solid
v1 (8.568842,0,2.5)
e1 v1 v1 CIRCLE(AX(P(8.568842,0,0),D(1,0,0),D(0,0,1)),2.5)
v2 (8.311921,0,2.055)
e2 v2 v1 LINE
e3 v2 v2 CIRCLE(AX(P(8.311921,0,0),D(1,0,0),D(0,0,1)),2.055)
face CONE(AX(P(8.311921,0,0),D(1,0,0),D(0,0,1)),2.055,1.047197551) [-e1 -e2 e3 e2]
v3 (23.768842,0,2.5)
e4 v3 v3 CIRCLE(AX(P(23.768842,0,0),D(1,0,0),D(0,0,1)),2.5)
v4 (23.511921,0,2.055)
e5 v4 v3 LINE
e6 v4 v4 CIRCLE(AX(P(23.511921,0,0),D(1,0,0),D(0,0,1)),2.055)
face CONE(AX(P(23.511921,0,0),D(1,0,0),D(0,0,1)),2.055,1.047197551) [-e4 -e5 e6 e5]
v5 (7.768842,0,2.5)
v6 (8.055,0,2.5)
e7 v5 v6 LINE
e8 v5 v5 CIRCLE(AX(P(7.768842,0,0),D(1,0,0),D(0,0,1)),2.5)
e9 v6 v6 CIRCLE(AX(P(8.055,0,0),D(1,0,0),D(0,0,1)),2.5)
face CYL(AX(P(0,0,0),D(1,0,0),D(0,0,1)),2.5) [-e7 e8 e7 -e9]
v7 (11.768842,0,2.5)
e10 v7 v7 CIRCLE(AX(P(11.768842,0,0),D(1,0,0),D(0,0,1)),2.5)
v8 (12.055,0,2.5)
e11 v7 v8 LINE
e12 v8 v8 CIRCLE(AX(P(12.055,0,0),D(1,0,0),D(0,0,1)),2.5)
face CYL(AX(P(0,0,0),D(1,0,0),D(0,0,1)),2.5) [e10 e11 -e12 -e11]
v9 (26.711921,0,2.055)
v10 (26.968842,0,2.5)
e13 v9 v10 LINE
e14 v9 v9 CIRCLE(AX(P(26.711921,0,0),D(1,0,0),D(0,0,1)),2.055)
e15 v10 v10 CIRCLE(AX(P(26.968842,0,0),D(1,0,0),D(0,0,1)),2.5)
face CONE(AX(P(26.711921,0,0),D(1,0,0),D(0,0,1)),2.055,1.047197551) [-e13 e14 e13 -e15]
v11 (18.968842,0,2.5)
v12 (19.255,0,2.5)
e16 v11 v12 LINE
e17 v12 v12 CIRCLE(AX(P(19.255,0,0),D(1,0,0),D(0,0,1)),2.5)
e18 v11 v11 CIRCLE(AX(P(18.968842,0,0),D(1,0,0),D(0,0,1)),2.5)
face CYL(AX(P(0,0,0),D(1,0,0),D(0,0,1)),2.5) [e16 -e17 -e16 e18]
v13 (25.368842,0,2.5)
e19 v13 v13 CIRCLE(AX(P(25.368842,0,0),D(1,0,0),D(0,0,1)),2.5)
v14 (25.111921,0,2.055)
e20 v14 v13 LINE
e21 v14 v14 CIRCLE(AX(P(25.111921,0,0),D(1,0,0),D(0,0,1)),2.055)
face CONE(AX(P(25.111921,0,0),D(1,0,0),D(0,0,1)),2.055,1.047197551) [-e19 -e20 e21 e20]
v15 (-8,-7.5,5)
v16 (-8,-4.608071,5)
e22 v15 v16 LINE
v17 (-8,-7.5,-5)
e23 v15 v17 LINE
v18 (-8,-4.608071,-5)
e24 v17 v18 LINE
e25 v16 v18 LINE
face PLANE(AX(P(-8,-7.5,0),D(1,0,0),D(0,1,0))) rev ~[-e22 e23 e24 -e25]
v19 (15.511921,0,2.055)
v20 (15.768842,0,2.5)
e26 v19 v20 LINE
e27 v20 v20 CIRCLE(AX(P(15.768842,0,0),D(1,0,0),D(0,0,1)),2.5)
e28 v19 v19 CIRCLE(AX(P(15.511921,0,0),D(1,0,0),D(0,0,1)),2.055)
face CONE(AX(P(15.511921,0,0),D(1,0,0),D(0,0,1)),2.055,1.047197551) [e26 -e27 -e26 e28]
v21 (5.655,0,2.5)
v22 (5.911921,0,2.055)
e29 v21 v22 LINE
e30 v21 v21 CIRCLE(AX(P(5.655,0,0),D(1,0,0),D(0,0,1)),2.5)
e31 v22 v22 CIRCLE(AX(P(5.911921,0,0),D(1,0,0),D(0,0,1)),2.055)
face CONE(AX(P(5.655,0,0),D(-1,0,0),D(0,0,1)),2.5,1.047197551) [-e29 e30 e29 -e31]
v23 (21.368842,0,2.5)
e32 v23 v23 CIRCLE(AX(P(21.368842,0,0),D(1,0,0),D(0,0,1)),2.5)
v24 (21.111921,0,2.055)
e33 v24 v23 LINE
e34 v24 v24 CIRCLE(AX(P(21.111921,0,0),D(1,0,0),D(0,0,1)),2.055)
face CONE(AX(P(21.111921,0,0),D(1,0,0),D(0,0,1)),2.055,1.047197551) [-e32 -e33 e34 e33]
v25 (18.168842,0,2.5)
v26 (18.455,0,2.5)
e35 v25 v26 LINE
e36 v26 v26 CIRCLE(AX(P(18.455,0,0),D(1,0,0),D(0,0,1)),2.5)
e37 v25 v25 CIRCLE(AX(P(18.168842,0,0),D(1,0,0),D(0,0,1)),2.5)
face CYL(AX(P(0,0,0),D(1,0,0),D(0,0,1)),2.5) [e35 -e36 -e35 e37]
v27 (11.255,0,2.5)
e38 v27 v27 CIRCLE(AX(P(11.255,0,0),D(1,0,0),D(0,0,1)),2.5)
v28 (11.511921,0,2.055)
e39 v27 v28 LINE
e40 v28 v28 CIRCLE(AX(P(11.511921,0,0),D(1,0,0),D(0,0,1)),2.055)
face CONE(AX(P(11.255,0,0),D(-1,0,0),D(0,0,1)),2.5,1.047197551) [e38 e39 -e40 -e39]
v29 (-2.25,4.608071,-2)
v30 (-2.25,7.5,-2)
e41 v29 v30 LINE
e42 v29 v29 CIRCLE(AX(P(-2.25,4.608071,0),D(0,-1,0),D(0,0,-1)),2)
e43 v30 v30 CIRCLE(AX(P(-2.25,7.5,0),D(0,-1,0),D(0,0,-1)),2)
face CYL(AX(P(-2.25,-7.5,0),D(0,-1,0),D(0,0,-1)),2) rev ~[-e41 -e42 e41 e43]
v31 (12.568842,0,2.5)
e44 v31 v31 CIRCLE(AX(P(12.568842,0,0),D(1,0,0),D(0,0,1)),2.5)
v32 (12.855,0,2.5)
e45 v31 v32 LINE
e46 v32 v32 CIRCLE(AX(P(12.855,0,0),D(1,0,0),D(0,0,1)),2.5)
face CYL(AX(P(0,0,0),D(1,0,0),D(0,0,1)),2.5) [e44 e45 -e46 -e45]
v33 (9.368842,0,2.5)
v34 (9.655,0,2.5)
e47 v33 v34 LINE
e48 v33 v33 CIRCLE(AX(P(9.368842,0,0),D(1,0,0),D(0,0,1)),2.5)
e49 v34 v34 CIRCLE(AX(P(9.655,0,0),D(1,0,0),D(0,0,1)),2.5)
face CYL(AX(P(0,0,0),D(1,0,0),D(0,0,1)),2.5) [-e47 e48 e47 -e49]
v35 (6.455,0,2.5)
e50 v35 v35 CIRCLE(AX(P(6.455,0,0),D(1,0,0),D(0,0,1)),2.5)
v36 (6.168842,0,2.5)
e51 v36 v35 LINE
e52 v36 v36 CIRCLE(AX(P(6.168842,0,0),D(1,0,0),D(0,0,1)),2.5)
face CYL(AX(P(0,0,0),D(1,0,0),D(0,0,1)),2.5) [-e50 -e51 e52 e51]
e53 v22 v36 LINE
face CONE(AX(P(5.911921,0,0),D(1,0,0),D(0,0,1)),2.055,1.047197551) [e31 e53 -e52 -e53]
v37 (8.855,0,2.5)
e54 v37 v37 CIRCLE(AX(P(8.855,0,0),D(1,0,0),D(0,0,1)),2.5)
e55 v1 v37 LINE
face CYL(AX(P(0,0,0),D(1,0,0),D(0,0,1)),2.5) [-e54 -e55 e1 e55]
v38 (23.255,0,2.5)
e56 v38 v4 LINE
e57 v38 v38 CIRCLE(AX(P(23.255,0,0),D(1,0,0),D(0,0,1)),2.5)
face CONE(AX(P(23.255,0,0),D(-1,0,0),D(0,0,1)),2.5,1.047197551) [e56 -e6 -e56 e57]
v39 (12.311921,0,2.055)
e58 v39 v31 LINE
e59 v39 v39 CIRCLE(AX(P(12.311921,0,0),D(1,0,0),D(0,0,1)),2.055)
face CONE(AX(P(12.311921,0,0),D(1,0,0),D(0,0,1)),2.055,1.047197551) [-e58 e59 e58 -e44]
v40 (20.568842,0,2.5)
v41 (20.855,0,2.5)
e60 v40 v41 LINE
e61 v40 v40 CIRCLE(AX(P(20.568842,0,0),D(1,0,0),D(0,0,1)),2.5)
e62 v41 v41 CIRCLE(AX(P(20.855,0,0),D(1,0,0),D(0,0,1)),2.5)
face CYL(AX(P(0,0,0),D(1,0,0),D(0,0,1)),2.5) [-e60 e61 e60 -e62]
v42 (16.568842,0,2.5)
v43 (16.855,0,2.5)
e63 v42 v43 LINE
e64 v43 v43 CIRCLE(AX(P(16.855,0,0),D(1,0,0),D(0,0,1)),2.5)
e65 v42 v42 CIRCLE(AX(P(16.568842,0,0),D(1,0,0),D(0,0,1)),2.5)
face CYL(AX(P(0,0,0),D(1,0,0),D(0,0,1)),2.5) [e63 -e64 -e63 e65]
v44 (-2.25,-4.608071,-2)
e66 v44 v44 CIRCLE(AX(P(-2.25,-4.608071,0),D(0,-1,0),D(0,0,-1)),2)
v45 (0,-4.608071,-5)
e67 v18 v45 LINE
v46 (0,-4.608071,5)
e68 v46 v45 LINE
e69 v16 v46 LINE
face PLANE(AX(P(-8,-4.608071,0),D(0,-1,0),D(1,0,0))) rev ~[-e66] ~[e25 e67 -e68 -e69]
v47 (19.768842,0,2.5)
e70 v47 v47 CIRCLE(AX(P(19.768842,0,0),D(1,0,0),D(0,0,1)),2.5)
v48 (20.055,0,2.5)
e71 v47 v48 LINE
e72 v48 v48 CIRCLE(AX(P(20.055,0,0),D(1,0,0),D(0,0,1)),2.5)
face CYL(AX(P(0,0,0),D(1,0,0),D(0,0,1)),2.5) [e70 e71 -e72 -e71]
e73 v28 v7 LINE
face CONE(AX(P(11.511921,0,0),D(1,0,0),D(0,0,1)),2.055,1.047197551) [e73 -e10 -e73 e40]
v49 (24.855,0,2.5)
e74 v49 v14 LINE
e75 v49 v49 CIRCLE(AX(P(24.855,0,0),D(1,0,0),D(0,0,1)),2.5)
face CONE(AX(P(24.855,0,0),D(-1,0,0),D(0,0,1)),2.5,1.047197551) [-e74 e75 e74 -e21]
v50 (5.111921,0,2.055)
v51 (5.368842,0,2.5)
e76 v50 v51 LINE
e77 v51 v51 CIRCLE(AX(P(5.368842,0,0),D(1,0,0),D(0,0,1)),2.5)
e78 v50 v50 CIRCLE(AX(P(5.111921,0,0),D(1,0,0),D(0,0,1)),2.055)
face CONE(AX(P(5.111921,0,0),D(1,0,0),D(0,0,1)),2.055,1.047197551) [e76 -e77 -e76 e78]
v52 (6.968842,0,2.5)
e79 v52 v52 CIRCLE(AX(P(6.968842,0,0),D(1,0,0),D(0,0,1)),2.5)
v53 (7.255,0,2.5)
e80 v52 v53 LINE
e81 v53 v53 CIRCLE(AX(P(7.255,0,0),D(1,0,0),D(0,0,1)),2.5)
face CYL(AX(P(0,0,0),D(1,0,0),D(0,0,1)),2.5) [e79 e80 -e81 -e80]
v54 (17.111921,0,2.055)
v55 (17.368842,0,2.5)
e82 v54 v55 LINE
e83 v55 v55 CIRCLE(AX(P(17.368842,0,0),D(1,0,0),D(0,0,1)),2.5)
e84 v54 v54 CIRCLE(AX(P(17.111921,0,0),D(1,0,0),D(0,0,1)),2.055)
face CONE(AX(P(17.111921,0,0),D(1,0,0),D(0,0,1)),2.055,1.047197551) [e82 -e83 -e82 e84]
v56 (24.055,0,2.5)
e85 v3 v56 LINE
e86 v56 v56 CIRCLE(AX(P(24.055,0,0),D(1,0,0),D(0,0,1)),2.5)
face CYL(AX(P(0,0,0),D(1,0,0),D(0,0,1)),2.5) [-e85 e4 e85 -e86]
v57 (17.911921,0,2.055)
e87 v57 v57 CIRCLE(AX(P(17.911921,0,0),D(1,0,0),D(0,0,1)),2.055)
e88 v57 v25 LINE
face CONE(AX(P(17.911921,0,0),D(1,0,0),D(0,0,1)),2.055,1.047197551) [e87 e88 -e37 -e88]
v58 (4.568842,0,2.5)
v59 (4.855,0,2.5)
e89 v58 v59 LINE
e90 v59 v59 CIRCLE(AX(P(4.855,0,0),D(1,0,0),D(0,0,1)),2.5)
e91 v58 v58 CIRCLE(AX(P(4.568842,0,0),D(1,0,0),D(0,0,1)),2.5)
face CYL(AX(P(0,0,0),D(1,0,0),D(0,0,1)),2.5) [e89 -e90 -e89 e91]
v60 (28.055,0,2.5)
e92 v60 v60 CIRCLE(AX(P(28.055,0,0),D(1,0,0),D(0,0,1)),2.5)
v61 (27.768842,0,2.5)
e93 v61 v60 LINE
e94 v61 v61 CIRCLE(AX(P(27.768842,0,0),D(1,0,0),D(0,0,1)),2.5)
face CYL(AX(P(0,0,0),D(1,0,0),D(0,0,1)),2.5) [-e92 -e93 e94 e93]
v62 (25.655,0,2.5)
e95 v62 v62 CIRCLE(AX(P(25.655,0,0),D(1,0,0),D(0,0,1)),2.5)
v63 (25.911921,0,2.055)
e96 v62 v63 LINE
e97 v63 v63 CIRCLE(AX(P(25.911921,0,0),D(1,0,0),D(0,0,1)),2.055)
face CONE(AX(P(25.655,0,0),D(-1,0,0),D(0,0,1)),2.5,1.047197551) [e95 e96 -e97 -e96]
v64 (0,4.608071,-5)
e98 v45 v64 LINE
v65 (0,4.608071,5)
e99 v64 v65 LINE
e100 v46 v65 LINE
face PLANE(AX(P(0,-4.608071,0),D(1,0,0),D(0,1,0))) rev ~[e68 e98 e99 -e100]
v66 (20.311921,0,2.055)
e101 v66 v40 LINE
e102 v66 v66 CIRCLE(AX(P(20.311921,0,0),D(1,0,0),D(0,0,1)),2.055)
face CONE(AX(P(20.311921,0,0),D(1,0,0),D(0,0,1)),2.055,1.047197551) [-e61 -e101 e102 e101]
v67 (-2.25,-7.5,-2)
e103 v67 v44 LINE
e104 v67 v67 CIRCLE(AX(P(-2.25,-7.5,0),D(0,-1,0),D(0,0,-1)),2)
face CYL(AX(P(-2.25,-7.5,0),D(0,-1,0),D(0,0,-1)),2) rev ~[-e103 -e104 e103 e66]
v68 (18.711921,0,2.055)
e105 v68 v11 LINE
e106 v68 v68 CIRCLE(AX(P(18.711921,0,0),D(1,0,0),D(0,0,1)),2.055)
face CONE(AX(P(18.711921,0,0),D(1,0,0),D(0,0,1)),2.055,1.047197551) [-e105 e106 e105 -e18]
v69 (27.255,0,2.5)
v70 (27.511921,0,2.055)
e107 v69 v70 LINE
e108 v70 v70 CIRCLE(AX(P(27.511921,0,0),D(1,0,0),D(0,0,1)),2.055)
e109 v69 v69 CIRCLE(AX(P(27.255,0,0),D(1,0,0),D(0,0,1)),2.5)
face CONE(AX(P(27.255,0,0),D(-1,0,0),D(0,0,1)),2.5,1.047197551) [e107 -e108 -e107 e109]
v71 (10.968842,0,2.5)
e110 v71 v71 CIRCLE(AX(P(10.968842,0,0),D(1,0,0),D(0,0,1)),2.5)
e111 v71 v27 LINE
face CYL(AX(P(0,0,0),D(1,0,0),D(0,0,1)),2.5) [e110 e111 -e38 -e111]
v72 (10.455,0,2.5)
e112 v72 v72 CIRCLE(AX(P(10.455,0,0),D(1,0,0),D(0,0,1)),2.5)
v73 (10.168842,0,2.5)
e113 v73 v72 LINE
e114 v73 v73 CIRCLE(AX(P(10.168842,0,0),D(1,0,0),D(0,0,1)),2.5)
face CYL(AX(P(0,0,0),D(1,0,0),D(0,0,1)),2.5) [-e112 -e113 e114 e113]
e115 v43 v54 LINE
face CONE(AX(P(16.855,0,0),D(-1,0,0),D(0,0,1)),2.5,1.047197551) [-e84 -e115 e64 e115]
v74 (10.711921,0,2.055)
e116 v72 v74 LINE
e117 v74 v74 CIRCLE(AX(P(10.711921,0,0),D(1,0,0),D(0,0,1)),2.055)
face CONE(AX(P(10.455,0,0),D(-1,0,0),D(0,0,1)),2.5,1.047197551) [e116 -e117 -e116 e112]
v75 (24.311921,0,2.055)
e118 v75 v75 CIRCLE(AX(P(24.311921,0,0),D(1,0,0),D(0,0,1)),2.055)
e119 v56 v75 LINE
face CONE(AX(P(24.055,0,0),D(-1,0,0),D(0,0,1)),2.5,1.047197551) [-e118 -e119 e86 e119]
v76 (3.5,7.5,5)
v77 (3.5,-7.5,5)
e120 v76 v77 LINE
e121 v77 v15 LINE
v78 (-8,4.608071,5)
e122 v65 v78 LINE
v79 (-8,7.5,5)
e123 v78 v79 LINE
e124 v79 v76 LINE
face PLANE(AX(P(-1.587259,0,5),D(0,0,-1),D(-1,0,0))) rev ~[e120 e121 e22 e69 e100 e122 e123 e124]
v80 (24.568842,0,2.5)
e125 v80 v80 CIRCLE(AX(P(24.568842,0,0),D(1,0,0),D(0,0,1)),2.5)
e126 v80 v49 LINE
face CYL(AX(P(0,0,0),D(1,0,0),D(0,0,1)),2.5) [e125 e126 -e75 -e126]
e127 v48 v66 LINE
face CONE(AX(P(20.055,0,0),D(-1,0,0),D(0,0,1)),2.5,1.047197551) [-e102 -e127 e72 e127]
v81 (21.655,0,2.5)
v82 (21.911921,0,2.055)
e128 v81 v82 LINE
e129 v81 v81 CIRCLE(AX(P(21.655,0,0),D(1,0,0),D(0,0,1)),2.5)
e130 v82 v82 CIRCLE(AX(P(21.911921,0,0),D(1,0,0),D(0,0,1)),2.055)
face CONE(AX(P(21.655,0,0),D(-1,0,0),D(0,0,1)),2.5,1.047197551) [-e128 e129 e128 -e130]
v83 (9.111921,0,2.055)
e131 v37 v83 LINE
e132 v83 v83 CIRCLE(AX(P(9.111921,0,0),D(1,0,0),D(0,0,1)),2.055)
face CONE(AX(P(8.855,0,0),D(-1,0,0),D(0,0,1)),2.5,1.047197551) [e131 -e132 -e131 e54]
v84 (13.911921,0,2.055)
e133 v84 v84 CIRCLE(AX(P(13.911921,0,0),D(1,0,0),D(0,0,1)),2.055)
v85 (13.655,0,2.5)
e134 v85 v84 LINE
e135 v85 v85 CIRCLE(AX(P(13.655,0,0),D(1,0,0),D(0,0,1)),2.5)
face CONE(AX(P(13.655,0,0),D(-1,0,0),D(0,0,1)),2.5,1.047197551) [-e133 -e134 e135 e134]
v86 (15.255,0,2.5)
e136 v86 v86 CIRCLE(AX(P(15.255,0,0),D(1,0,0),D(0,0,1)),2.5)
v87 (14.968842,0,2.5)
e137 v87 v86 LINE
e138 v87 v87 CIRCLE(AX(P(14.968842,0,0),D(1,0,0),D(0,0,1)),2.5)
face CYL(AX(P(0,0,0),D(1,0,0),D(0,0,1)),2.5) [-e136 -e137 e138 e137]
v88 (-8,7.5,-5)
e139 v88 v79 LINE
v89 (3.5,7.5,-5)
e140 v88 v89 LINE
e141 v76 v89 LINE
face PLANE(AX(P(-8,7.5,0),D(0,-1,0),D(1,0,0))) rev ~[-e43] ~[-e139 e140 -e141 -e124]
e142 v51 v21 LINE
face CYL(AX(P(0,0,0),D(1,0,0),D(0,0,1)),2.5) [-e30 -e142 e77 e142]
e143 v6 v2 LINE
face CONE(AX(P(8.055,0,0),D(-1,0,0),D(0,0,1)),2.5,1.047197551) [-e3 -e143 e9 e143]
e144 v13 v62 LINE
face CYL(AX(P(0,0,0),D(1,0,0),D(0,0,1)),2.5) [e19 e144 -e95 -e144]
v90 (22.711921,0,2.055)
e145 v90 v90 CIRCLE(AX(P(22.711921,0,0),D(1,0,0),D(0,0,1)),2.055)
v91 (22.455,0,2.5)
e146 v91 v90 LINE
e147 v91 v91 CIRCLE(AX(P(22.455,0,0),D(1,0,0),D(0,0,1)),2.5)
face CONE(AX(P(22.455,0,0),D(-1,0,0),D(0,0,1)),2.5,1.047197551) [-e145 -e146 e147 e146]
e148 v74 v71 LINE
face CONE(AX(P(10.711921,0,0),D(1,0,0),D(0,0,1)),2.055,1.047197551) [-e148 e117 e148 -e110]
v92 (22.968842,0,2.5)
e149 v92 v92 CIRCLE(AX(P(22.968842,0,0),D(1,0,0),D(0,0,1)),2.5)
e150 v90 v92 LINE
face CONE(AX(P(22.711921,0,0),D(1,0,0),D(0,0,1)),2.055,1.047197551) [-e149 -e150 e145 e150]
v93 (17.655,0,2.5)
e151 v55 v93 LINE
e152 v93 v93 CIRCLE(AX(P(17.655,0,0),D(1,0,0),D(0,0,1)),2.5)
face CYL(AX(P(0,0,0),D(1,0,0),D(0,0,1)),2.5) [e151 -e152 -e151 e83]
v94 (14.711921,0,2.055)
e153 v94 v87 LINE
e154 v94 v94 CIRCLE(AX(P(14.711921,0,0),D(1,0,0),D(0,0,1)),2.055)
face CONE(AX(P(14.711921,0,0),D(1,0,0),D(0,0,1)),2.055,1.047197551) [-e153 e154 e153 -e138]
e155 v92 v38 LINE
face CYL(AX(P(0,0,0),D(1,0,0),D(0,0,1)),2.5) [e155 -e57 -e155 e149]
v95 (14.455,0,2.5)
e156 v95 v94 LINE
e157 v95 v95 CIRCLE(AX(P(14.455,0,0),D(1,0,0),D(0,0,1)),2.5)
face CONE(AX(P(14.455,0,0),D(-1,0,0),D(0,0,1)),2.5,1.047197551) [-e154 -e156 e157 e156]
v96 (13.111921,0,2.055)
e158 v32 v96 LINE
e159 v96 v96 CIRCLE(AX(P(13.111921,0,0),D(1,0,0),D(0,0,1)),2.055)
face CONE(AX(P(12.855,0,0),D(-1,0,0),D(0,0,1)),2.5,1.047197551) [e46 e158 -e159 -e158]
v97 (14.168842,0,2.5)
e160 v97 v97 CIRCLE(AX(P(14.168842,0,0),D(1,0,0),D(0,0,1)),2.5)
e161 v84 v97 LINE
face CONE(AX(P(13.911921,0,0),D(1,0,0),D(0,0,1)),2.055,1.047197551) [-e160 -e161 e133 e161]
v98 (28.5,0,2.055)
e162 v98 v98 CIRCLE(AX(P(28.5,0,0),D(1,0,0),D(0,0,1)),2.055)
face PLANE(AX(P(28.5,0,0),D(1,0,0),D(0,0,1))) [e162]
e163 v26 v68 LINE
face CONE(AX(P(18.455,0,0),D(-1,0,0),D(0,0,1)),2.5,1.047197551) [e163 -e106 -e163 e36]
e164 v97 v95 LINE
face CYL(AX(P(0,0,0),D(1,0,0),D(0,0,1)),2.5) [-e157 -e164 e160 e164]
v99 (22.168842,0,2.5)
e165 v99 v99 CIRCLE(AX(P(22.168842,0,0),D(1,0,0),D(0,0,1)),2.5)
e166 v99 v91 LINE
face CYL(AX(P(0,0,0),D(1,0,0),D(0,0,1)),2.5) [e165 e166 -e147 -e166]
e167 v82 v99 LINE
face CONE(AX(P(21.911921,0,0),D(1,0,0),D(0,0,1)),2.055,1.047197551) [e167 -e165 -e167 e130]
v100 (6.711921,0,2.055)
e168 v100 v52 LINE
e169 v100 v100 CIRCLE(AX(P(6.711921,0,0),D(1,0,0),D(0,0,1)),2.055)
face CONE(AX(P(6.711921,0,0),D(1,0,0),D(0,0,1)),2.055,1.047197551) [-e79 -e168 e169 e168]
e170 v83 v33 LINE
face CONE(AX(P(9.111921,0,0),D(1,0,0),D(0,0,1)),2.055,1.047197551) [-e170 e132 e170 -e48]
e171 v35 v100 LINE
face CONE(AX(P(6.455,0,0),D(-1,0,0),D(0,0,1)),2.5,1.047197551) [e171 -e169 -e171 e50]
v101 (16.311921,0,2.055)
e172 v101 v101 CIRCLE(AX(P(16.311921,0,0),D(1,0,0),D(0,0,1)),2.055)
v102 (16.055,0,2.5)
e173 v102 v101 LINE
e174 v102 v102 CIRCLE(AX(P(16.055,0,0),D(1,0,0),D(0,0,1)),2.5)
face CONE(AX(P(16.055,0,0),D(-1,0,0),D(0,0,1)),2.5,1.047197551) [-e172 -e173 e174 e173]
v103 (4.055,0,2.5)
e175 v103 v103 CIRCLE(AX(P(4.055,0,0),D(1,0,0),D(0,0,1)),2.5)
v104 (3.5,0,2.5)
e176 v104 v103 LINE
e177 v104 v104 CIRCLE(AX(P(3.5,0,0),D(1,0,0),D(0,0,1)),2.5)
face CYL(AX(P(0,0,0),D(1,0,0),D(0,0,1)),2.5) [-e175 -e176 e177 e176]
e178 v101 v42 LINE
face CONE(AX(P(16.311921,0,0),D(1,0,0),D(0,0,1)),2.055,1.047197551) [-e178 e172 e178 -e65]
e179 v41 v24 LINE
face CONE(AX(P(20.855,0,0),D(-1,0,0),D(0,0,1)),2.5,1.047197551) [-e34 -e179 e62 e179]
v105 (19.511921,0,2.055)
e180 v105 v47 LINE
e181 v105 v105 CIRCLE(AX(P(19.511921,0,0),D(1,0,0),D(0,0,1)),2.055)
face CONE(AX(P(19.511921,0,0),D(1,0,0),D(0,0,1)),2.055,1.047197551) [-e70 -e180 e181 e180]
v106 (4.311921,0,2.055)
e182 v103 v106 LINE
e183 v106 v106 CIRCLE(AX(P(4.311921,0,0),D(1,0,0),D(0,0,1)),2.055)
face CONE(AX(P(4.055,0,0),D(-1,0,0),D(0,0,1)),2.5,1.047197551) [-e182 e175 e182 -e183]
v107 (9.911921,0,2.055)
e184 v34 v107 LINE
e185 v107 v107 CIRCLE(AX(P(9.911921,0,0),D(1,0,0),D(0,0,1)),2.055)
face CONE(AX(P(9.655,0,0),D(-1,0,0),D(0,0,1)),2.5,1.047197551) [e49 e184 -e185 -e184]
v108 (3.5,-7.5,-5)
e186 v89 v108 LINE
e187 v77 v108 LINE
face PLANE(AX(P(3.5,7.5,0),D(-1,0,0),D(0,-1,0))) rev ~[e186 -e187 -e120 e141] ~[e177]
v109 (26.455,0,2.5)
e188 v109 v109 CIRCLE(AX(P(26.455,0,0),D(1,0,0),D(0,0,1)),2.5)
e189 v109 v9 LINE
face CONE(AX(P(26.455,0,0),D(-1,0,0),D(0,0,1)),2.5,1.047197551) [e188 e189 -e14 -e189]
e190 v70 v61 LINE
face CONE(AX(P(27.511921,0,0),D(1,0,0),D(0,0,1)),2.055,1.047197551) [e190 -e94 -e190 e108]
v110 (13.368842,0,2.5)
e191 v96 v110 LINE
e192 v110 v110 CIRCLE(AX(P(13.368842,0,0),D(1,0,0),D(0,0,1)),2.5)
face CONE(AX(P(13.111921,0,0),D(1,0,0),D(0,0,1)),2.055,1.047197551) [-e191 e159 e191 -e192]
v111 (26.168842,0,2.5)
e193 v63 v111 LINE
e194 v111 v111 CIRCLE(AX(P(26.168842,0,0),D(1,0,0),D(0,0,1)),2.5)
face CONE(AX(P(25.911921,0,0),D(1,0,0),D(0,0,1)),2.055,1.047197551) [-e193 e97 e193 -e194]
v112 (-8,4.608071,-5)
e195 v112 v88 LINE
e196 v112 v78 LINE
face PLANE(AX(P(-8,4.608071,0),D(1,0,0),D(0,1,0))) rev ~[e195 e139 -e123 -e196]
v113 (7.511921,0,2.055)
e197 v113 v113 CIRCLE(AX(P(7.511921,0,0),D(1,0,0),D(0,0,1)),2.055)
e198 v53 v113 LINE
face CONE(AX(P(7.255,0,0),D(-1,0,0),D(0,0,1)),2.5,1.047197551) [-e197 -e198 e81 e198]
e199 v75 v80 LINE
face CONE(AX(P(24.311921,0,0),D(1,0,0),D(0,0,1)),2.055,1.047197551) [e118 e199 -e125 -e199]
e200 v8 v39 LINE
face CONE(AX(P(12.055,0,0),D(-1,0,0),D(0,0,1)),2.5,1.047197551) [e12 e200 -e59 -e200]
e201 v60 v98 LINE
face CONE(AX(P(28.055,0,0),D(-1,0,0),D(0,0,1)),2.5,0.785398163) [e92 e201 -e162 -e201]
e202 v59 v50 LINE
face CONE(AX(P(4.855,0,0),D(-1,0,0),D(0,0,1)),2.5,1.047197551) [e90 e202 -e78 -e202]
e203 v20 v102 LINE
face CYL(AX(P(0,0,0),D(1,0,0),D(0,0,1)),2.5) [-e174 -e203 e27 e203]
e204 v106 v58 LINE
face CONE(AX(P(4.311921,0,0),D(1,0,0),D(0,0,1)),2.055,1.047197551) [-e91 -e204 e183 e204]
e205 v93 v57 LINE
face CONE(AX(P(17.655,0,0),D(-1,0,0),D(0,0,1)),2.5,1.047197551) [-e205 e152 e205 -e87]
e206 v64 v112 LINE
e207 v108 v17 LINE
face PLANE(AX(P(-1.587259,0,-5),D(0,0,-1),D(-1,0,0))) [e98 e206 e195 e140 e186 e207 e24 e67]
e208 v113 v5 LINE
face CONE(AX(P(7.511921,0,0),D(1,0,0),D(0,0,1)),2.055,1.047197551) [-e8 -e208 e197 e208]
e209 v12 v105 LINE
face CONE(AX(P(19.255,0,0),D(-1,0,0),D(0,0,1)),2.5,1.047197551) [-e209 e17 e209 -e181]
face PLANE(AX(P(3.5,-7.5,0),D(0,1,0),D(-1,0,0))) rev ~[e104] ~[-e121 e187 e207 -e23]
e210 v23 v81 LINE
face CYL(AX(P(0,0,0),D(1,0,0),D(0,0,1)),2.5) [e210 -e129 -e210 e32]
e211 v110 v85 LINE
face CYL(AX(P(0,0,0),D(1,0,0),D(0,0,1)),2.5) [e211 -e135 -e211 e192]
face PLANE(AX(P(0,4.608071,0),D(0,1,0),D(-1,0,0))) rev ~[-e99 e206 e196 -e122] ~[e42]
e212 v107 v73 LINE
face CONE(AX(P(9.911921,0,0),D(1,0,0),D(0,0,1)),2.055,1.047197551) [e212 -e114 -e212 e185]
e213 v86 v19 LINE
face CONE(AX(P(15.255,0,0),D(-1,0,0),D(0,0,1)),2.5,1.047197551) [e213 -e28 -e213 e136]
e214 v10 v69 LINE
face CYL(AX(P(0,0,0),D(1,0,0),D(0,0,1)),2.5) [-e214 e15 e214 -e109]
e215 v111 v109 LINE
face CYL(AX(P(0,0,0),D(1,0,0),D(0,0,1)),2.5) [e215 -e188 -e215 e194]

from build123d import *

# Parameters (mm, degrees)
BASEHEAD_DEPTH      = 3.5
THDSCHPAT_COUNT     = 30
THDSCHPAT_PITCH     = 0.8
BOSS_EXTRUDE1_DEPTH = 5
SKETCH3_R           = 2
CUT_EXTRUDE1_DEPTH  = 17


with BuildPart() as part:
    # BaseHeadSke → BaseHead (new body)
    with BuildSketch(Plane(origin=(0, 0, 0), x_dir=(0, 0, -1), z_dir=(1, 0, 0))):
        Polygon((0, 4.618802154), (-4, 2.309401077), (-4, -2.309401077), (0, -4.618802154), (4, -2.309401077), (4, 2.309401077), align=None)
    extrude(amount=BASEHEAD_DEPTH)

    # HeadChamferSke → HeadChamfer (revolve, cut)
    with BuildSketch(Plane.XY):
        Polygon((0, 4.618802154), (0, 4), (0.35726559, 4.618802154), align=None)
    revolve(axis=Axis((0, 0, 0), (1, 0, 0)), mode=Mode.SUBTRACT)

    # BodySke → BaseBody (revolve)
    with BuildSketch(Plane.XY, mode=Mode.PRIVATE) as basebody_sk:
        Polygon((0, 0), (0, 2.5), (28.055, 2.5), (28.5, 2.055), (28.5, 0), align=None)
    revolve(basebody_sk.sketch.rotate(Axis((0, 0, 0), (1, 0, 0)), 90), axis=Axis((0, 0, 0), (1, 0, 0)))

    # ThdSchSke → ThreadSchematic (revolve, cut)
    with BuildSketch(Plane.XY, mode=Mode.PRIVATE) as threadschematic_sk:
        Polygon((27.255, 3.01384174), (27.255, 2.5), (27.51192087, 2.055), (27.76884174, 2.5), (27.76884174, 3.01384174), align=None)
    threadschematic = revolve(threadschematic_sk.sketch.rotate(Axis((0, 0, 0), (1, 0, 0)), 90), axis=Axis((0, 0, 0), (1, 0, 0)), mode=Mode.SUBTRACT)

    # ThdSchPat: ThreadSchematic ×30
    with Locations(*[(-i * THDSCHPAT_PITCH, 0, 0) for i in range(1, THDSCHPAT_COUNT)]):
        add(threadschematic, mode=Mode.SUBTRACT)

    # Sketch1 → Boss-Extrude1 (add, symmetric)
    with BuildSketch(Plane.XY):
        Polygon((-8, 7.5), (3.5, 7.5), (3.5, -7.5), (-8, -7.5), (-8, -4.608070982), (0, -4.608070982), (0, 4.608070982), (-8, 4.608070982), align=None)
    extrude(amount=BOSS_EXTRUDE1_DEPTH, both=True)

    # Sketch3 → Cut-Extrude1 (cut)
    with BuildSketch(Plane.XZ.offset(7.5)):
        with Locations(Location((-2.25, 0, 0), (0, 0, 270))):
            Circle(SKETCH3_R)
    extrude(amount=-CUT_EXTRUDE1_DEPTH, mode=Mode.SUBTRACT)


solid = part.part
